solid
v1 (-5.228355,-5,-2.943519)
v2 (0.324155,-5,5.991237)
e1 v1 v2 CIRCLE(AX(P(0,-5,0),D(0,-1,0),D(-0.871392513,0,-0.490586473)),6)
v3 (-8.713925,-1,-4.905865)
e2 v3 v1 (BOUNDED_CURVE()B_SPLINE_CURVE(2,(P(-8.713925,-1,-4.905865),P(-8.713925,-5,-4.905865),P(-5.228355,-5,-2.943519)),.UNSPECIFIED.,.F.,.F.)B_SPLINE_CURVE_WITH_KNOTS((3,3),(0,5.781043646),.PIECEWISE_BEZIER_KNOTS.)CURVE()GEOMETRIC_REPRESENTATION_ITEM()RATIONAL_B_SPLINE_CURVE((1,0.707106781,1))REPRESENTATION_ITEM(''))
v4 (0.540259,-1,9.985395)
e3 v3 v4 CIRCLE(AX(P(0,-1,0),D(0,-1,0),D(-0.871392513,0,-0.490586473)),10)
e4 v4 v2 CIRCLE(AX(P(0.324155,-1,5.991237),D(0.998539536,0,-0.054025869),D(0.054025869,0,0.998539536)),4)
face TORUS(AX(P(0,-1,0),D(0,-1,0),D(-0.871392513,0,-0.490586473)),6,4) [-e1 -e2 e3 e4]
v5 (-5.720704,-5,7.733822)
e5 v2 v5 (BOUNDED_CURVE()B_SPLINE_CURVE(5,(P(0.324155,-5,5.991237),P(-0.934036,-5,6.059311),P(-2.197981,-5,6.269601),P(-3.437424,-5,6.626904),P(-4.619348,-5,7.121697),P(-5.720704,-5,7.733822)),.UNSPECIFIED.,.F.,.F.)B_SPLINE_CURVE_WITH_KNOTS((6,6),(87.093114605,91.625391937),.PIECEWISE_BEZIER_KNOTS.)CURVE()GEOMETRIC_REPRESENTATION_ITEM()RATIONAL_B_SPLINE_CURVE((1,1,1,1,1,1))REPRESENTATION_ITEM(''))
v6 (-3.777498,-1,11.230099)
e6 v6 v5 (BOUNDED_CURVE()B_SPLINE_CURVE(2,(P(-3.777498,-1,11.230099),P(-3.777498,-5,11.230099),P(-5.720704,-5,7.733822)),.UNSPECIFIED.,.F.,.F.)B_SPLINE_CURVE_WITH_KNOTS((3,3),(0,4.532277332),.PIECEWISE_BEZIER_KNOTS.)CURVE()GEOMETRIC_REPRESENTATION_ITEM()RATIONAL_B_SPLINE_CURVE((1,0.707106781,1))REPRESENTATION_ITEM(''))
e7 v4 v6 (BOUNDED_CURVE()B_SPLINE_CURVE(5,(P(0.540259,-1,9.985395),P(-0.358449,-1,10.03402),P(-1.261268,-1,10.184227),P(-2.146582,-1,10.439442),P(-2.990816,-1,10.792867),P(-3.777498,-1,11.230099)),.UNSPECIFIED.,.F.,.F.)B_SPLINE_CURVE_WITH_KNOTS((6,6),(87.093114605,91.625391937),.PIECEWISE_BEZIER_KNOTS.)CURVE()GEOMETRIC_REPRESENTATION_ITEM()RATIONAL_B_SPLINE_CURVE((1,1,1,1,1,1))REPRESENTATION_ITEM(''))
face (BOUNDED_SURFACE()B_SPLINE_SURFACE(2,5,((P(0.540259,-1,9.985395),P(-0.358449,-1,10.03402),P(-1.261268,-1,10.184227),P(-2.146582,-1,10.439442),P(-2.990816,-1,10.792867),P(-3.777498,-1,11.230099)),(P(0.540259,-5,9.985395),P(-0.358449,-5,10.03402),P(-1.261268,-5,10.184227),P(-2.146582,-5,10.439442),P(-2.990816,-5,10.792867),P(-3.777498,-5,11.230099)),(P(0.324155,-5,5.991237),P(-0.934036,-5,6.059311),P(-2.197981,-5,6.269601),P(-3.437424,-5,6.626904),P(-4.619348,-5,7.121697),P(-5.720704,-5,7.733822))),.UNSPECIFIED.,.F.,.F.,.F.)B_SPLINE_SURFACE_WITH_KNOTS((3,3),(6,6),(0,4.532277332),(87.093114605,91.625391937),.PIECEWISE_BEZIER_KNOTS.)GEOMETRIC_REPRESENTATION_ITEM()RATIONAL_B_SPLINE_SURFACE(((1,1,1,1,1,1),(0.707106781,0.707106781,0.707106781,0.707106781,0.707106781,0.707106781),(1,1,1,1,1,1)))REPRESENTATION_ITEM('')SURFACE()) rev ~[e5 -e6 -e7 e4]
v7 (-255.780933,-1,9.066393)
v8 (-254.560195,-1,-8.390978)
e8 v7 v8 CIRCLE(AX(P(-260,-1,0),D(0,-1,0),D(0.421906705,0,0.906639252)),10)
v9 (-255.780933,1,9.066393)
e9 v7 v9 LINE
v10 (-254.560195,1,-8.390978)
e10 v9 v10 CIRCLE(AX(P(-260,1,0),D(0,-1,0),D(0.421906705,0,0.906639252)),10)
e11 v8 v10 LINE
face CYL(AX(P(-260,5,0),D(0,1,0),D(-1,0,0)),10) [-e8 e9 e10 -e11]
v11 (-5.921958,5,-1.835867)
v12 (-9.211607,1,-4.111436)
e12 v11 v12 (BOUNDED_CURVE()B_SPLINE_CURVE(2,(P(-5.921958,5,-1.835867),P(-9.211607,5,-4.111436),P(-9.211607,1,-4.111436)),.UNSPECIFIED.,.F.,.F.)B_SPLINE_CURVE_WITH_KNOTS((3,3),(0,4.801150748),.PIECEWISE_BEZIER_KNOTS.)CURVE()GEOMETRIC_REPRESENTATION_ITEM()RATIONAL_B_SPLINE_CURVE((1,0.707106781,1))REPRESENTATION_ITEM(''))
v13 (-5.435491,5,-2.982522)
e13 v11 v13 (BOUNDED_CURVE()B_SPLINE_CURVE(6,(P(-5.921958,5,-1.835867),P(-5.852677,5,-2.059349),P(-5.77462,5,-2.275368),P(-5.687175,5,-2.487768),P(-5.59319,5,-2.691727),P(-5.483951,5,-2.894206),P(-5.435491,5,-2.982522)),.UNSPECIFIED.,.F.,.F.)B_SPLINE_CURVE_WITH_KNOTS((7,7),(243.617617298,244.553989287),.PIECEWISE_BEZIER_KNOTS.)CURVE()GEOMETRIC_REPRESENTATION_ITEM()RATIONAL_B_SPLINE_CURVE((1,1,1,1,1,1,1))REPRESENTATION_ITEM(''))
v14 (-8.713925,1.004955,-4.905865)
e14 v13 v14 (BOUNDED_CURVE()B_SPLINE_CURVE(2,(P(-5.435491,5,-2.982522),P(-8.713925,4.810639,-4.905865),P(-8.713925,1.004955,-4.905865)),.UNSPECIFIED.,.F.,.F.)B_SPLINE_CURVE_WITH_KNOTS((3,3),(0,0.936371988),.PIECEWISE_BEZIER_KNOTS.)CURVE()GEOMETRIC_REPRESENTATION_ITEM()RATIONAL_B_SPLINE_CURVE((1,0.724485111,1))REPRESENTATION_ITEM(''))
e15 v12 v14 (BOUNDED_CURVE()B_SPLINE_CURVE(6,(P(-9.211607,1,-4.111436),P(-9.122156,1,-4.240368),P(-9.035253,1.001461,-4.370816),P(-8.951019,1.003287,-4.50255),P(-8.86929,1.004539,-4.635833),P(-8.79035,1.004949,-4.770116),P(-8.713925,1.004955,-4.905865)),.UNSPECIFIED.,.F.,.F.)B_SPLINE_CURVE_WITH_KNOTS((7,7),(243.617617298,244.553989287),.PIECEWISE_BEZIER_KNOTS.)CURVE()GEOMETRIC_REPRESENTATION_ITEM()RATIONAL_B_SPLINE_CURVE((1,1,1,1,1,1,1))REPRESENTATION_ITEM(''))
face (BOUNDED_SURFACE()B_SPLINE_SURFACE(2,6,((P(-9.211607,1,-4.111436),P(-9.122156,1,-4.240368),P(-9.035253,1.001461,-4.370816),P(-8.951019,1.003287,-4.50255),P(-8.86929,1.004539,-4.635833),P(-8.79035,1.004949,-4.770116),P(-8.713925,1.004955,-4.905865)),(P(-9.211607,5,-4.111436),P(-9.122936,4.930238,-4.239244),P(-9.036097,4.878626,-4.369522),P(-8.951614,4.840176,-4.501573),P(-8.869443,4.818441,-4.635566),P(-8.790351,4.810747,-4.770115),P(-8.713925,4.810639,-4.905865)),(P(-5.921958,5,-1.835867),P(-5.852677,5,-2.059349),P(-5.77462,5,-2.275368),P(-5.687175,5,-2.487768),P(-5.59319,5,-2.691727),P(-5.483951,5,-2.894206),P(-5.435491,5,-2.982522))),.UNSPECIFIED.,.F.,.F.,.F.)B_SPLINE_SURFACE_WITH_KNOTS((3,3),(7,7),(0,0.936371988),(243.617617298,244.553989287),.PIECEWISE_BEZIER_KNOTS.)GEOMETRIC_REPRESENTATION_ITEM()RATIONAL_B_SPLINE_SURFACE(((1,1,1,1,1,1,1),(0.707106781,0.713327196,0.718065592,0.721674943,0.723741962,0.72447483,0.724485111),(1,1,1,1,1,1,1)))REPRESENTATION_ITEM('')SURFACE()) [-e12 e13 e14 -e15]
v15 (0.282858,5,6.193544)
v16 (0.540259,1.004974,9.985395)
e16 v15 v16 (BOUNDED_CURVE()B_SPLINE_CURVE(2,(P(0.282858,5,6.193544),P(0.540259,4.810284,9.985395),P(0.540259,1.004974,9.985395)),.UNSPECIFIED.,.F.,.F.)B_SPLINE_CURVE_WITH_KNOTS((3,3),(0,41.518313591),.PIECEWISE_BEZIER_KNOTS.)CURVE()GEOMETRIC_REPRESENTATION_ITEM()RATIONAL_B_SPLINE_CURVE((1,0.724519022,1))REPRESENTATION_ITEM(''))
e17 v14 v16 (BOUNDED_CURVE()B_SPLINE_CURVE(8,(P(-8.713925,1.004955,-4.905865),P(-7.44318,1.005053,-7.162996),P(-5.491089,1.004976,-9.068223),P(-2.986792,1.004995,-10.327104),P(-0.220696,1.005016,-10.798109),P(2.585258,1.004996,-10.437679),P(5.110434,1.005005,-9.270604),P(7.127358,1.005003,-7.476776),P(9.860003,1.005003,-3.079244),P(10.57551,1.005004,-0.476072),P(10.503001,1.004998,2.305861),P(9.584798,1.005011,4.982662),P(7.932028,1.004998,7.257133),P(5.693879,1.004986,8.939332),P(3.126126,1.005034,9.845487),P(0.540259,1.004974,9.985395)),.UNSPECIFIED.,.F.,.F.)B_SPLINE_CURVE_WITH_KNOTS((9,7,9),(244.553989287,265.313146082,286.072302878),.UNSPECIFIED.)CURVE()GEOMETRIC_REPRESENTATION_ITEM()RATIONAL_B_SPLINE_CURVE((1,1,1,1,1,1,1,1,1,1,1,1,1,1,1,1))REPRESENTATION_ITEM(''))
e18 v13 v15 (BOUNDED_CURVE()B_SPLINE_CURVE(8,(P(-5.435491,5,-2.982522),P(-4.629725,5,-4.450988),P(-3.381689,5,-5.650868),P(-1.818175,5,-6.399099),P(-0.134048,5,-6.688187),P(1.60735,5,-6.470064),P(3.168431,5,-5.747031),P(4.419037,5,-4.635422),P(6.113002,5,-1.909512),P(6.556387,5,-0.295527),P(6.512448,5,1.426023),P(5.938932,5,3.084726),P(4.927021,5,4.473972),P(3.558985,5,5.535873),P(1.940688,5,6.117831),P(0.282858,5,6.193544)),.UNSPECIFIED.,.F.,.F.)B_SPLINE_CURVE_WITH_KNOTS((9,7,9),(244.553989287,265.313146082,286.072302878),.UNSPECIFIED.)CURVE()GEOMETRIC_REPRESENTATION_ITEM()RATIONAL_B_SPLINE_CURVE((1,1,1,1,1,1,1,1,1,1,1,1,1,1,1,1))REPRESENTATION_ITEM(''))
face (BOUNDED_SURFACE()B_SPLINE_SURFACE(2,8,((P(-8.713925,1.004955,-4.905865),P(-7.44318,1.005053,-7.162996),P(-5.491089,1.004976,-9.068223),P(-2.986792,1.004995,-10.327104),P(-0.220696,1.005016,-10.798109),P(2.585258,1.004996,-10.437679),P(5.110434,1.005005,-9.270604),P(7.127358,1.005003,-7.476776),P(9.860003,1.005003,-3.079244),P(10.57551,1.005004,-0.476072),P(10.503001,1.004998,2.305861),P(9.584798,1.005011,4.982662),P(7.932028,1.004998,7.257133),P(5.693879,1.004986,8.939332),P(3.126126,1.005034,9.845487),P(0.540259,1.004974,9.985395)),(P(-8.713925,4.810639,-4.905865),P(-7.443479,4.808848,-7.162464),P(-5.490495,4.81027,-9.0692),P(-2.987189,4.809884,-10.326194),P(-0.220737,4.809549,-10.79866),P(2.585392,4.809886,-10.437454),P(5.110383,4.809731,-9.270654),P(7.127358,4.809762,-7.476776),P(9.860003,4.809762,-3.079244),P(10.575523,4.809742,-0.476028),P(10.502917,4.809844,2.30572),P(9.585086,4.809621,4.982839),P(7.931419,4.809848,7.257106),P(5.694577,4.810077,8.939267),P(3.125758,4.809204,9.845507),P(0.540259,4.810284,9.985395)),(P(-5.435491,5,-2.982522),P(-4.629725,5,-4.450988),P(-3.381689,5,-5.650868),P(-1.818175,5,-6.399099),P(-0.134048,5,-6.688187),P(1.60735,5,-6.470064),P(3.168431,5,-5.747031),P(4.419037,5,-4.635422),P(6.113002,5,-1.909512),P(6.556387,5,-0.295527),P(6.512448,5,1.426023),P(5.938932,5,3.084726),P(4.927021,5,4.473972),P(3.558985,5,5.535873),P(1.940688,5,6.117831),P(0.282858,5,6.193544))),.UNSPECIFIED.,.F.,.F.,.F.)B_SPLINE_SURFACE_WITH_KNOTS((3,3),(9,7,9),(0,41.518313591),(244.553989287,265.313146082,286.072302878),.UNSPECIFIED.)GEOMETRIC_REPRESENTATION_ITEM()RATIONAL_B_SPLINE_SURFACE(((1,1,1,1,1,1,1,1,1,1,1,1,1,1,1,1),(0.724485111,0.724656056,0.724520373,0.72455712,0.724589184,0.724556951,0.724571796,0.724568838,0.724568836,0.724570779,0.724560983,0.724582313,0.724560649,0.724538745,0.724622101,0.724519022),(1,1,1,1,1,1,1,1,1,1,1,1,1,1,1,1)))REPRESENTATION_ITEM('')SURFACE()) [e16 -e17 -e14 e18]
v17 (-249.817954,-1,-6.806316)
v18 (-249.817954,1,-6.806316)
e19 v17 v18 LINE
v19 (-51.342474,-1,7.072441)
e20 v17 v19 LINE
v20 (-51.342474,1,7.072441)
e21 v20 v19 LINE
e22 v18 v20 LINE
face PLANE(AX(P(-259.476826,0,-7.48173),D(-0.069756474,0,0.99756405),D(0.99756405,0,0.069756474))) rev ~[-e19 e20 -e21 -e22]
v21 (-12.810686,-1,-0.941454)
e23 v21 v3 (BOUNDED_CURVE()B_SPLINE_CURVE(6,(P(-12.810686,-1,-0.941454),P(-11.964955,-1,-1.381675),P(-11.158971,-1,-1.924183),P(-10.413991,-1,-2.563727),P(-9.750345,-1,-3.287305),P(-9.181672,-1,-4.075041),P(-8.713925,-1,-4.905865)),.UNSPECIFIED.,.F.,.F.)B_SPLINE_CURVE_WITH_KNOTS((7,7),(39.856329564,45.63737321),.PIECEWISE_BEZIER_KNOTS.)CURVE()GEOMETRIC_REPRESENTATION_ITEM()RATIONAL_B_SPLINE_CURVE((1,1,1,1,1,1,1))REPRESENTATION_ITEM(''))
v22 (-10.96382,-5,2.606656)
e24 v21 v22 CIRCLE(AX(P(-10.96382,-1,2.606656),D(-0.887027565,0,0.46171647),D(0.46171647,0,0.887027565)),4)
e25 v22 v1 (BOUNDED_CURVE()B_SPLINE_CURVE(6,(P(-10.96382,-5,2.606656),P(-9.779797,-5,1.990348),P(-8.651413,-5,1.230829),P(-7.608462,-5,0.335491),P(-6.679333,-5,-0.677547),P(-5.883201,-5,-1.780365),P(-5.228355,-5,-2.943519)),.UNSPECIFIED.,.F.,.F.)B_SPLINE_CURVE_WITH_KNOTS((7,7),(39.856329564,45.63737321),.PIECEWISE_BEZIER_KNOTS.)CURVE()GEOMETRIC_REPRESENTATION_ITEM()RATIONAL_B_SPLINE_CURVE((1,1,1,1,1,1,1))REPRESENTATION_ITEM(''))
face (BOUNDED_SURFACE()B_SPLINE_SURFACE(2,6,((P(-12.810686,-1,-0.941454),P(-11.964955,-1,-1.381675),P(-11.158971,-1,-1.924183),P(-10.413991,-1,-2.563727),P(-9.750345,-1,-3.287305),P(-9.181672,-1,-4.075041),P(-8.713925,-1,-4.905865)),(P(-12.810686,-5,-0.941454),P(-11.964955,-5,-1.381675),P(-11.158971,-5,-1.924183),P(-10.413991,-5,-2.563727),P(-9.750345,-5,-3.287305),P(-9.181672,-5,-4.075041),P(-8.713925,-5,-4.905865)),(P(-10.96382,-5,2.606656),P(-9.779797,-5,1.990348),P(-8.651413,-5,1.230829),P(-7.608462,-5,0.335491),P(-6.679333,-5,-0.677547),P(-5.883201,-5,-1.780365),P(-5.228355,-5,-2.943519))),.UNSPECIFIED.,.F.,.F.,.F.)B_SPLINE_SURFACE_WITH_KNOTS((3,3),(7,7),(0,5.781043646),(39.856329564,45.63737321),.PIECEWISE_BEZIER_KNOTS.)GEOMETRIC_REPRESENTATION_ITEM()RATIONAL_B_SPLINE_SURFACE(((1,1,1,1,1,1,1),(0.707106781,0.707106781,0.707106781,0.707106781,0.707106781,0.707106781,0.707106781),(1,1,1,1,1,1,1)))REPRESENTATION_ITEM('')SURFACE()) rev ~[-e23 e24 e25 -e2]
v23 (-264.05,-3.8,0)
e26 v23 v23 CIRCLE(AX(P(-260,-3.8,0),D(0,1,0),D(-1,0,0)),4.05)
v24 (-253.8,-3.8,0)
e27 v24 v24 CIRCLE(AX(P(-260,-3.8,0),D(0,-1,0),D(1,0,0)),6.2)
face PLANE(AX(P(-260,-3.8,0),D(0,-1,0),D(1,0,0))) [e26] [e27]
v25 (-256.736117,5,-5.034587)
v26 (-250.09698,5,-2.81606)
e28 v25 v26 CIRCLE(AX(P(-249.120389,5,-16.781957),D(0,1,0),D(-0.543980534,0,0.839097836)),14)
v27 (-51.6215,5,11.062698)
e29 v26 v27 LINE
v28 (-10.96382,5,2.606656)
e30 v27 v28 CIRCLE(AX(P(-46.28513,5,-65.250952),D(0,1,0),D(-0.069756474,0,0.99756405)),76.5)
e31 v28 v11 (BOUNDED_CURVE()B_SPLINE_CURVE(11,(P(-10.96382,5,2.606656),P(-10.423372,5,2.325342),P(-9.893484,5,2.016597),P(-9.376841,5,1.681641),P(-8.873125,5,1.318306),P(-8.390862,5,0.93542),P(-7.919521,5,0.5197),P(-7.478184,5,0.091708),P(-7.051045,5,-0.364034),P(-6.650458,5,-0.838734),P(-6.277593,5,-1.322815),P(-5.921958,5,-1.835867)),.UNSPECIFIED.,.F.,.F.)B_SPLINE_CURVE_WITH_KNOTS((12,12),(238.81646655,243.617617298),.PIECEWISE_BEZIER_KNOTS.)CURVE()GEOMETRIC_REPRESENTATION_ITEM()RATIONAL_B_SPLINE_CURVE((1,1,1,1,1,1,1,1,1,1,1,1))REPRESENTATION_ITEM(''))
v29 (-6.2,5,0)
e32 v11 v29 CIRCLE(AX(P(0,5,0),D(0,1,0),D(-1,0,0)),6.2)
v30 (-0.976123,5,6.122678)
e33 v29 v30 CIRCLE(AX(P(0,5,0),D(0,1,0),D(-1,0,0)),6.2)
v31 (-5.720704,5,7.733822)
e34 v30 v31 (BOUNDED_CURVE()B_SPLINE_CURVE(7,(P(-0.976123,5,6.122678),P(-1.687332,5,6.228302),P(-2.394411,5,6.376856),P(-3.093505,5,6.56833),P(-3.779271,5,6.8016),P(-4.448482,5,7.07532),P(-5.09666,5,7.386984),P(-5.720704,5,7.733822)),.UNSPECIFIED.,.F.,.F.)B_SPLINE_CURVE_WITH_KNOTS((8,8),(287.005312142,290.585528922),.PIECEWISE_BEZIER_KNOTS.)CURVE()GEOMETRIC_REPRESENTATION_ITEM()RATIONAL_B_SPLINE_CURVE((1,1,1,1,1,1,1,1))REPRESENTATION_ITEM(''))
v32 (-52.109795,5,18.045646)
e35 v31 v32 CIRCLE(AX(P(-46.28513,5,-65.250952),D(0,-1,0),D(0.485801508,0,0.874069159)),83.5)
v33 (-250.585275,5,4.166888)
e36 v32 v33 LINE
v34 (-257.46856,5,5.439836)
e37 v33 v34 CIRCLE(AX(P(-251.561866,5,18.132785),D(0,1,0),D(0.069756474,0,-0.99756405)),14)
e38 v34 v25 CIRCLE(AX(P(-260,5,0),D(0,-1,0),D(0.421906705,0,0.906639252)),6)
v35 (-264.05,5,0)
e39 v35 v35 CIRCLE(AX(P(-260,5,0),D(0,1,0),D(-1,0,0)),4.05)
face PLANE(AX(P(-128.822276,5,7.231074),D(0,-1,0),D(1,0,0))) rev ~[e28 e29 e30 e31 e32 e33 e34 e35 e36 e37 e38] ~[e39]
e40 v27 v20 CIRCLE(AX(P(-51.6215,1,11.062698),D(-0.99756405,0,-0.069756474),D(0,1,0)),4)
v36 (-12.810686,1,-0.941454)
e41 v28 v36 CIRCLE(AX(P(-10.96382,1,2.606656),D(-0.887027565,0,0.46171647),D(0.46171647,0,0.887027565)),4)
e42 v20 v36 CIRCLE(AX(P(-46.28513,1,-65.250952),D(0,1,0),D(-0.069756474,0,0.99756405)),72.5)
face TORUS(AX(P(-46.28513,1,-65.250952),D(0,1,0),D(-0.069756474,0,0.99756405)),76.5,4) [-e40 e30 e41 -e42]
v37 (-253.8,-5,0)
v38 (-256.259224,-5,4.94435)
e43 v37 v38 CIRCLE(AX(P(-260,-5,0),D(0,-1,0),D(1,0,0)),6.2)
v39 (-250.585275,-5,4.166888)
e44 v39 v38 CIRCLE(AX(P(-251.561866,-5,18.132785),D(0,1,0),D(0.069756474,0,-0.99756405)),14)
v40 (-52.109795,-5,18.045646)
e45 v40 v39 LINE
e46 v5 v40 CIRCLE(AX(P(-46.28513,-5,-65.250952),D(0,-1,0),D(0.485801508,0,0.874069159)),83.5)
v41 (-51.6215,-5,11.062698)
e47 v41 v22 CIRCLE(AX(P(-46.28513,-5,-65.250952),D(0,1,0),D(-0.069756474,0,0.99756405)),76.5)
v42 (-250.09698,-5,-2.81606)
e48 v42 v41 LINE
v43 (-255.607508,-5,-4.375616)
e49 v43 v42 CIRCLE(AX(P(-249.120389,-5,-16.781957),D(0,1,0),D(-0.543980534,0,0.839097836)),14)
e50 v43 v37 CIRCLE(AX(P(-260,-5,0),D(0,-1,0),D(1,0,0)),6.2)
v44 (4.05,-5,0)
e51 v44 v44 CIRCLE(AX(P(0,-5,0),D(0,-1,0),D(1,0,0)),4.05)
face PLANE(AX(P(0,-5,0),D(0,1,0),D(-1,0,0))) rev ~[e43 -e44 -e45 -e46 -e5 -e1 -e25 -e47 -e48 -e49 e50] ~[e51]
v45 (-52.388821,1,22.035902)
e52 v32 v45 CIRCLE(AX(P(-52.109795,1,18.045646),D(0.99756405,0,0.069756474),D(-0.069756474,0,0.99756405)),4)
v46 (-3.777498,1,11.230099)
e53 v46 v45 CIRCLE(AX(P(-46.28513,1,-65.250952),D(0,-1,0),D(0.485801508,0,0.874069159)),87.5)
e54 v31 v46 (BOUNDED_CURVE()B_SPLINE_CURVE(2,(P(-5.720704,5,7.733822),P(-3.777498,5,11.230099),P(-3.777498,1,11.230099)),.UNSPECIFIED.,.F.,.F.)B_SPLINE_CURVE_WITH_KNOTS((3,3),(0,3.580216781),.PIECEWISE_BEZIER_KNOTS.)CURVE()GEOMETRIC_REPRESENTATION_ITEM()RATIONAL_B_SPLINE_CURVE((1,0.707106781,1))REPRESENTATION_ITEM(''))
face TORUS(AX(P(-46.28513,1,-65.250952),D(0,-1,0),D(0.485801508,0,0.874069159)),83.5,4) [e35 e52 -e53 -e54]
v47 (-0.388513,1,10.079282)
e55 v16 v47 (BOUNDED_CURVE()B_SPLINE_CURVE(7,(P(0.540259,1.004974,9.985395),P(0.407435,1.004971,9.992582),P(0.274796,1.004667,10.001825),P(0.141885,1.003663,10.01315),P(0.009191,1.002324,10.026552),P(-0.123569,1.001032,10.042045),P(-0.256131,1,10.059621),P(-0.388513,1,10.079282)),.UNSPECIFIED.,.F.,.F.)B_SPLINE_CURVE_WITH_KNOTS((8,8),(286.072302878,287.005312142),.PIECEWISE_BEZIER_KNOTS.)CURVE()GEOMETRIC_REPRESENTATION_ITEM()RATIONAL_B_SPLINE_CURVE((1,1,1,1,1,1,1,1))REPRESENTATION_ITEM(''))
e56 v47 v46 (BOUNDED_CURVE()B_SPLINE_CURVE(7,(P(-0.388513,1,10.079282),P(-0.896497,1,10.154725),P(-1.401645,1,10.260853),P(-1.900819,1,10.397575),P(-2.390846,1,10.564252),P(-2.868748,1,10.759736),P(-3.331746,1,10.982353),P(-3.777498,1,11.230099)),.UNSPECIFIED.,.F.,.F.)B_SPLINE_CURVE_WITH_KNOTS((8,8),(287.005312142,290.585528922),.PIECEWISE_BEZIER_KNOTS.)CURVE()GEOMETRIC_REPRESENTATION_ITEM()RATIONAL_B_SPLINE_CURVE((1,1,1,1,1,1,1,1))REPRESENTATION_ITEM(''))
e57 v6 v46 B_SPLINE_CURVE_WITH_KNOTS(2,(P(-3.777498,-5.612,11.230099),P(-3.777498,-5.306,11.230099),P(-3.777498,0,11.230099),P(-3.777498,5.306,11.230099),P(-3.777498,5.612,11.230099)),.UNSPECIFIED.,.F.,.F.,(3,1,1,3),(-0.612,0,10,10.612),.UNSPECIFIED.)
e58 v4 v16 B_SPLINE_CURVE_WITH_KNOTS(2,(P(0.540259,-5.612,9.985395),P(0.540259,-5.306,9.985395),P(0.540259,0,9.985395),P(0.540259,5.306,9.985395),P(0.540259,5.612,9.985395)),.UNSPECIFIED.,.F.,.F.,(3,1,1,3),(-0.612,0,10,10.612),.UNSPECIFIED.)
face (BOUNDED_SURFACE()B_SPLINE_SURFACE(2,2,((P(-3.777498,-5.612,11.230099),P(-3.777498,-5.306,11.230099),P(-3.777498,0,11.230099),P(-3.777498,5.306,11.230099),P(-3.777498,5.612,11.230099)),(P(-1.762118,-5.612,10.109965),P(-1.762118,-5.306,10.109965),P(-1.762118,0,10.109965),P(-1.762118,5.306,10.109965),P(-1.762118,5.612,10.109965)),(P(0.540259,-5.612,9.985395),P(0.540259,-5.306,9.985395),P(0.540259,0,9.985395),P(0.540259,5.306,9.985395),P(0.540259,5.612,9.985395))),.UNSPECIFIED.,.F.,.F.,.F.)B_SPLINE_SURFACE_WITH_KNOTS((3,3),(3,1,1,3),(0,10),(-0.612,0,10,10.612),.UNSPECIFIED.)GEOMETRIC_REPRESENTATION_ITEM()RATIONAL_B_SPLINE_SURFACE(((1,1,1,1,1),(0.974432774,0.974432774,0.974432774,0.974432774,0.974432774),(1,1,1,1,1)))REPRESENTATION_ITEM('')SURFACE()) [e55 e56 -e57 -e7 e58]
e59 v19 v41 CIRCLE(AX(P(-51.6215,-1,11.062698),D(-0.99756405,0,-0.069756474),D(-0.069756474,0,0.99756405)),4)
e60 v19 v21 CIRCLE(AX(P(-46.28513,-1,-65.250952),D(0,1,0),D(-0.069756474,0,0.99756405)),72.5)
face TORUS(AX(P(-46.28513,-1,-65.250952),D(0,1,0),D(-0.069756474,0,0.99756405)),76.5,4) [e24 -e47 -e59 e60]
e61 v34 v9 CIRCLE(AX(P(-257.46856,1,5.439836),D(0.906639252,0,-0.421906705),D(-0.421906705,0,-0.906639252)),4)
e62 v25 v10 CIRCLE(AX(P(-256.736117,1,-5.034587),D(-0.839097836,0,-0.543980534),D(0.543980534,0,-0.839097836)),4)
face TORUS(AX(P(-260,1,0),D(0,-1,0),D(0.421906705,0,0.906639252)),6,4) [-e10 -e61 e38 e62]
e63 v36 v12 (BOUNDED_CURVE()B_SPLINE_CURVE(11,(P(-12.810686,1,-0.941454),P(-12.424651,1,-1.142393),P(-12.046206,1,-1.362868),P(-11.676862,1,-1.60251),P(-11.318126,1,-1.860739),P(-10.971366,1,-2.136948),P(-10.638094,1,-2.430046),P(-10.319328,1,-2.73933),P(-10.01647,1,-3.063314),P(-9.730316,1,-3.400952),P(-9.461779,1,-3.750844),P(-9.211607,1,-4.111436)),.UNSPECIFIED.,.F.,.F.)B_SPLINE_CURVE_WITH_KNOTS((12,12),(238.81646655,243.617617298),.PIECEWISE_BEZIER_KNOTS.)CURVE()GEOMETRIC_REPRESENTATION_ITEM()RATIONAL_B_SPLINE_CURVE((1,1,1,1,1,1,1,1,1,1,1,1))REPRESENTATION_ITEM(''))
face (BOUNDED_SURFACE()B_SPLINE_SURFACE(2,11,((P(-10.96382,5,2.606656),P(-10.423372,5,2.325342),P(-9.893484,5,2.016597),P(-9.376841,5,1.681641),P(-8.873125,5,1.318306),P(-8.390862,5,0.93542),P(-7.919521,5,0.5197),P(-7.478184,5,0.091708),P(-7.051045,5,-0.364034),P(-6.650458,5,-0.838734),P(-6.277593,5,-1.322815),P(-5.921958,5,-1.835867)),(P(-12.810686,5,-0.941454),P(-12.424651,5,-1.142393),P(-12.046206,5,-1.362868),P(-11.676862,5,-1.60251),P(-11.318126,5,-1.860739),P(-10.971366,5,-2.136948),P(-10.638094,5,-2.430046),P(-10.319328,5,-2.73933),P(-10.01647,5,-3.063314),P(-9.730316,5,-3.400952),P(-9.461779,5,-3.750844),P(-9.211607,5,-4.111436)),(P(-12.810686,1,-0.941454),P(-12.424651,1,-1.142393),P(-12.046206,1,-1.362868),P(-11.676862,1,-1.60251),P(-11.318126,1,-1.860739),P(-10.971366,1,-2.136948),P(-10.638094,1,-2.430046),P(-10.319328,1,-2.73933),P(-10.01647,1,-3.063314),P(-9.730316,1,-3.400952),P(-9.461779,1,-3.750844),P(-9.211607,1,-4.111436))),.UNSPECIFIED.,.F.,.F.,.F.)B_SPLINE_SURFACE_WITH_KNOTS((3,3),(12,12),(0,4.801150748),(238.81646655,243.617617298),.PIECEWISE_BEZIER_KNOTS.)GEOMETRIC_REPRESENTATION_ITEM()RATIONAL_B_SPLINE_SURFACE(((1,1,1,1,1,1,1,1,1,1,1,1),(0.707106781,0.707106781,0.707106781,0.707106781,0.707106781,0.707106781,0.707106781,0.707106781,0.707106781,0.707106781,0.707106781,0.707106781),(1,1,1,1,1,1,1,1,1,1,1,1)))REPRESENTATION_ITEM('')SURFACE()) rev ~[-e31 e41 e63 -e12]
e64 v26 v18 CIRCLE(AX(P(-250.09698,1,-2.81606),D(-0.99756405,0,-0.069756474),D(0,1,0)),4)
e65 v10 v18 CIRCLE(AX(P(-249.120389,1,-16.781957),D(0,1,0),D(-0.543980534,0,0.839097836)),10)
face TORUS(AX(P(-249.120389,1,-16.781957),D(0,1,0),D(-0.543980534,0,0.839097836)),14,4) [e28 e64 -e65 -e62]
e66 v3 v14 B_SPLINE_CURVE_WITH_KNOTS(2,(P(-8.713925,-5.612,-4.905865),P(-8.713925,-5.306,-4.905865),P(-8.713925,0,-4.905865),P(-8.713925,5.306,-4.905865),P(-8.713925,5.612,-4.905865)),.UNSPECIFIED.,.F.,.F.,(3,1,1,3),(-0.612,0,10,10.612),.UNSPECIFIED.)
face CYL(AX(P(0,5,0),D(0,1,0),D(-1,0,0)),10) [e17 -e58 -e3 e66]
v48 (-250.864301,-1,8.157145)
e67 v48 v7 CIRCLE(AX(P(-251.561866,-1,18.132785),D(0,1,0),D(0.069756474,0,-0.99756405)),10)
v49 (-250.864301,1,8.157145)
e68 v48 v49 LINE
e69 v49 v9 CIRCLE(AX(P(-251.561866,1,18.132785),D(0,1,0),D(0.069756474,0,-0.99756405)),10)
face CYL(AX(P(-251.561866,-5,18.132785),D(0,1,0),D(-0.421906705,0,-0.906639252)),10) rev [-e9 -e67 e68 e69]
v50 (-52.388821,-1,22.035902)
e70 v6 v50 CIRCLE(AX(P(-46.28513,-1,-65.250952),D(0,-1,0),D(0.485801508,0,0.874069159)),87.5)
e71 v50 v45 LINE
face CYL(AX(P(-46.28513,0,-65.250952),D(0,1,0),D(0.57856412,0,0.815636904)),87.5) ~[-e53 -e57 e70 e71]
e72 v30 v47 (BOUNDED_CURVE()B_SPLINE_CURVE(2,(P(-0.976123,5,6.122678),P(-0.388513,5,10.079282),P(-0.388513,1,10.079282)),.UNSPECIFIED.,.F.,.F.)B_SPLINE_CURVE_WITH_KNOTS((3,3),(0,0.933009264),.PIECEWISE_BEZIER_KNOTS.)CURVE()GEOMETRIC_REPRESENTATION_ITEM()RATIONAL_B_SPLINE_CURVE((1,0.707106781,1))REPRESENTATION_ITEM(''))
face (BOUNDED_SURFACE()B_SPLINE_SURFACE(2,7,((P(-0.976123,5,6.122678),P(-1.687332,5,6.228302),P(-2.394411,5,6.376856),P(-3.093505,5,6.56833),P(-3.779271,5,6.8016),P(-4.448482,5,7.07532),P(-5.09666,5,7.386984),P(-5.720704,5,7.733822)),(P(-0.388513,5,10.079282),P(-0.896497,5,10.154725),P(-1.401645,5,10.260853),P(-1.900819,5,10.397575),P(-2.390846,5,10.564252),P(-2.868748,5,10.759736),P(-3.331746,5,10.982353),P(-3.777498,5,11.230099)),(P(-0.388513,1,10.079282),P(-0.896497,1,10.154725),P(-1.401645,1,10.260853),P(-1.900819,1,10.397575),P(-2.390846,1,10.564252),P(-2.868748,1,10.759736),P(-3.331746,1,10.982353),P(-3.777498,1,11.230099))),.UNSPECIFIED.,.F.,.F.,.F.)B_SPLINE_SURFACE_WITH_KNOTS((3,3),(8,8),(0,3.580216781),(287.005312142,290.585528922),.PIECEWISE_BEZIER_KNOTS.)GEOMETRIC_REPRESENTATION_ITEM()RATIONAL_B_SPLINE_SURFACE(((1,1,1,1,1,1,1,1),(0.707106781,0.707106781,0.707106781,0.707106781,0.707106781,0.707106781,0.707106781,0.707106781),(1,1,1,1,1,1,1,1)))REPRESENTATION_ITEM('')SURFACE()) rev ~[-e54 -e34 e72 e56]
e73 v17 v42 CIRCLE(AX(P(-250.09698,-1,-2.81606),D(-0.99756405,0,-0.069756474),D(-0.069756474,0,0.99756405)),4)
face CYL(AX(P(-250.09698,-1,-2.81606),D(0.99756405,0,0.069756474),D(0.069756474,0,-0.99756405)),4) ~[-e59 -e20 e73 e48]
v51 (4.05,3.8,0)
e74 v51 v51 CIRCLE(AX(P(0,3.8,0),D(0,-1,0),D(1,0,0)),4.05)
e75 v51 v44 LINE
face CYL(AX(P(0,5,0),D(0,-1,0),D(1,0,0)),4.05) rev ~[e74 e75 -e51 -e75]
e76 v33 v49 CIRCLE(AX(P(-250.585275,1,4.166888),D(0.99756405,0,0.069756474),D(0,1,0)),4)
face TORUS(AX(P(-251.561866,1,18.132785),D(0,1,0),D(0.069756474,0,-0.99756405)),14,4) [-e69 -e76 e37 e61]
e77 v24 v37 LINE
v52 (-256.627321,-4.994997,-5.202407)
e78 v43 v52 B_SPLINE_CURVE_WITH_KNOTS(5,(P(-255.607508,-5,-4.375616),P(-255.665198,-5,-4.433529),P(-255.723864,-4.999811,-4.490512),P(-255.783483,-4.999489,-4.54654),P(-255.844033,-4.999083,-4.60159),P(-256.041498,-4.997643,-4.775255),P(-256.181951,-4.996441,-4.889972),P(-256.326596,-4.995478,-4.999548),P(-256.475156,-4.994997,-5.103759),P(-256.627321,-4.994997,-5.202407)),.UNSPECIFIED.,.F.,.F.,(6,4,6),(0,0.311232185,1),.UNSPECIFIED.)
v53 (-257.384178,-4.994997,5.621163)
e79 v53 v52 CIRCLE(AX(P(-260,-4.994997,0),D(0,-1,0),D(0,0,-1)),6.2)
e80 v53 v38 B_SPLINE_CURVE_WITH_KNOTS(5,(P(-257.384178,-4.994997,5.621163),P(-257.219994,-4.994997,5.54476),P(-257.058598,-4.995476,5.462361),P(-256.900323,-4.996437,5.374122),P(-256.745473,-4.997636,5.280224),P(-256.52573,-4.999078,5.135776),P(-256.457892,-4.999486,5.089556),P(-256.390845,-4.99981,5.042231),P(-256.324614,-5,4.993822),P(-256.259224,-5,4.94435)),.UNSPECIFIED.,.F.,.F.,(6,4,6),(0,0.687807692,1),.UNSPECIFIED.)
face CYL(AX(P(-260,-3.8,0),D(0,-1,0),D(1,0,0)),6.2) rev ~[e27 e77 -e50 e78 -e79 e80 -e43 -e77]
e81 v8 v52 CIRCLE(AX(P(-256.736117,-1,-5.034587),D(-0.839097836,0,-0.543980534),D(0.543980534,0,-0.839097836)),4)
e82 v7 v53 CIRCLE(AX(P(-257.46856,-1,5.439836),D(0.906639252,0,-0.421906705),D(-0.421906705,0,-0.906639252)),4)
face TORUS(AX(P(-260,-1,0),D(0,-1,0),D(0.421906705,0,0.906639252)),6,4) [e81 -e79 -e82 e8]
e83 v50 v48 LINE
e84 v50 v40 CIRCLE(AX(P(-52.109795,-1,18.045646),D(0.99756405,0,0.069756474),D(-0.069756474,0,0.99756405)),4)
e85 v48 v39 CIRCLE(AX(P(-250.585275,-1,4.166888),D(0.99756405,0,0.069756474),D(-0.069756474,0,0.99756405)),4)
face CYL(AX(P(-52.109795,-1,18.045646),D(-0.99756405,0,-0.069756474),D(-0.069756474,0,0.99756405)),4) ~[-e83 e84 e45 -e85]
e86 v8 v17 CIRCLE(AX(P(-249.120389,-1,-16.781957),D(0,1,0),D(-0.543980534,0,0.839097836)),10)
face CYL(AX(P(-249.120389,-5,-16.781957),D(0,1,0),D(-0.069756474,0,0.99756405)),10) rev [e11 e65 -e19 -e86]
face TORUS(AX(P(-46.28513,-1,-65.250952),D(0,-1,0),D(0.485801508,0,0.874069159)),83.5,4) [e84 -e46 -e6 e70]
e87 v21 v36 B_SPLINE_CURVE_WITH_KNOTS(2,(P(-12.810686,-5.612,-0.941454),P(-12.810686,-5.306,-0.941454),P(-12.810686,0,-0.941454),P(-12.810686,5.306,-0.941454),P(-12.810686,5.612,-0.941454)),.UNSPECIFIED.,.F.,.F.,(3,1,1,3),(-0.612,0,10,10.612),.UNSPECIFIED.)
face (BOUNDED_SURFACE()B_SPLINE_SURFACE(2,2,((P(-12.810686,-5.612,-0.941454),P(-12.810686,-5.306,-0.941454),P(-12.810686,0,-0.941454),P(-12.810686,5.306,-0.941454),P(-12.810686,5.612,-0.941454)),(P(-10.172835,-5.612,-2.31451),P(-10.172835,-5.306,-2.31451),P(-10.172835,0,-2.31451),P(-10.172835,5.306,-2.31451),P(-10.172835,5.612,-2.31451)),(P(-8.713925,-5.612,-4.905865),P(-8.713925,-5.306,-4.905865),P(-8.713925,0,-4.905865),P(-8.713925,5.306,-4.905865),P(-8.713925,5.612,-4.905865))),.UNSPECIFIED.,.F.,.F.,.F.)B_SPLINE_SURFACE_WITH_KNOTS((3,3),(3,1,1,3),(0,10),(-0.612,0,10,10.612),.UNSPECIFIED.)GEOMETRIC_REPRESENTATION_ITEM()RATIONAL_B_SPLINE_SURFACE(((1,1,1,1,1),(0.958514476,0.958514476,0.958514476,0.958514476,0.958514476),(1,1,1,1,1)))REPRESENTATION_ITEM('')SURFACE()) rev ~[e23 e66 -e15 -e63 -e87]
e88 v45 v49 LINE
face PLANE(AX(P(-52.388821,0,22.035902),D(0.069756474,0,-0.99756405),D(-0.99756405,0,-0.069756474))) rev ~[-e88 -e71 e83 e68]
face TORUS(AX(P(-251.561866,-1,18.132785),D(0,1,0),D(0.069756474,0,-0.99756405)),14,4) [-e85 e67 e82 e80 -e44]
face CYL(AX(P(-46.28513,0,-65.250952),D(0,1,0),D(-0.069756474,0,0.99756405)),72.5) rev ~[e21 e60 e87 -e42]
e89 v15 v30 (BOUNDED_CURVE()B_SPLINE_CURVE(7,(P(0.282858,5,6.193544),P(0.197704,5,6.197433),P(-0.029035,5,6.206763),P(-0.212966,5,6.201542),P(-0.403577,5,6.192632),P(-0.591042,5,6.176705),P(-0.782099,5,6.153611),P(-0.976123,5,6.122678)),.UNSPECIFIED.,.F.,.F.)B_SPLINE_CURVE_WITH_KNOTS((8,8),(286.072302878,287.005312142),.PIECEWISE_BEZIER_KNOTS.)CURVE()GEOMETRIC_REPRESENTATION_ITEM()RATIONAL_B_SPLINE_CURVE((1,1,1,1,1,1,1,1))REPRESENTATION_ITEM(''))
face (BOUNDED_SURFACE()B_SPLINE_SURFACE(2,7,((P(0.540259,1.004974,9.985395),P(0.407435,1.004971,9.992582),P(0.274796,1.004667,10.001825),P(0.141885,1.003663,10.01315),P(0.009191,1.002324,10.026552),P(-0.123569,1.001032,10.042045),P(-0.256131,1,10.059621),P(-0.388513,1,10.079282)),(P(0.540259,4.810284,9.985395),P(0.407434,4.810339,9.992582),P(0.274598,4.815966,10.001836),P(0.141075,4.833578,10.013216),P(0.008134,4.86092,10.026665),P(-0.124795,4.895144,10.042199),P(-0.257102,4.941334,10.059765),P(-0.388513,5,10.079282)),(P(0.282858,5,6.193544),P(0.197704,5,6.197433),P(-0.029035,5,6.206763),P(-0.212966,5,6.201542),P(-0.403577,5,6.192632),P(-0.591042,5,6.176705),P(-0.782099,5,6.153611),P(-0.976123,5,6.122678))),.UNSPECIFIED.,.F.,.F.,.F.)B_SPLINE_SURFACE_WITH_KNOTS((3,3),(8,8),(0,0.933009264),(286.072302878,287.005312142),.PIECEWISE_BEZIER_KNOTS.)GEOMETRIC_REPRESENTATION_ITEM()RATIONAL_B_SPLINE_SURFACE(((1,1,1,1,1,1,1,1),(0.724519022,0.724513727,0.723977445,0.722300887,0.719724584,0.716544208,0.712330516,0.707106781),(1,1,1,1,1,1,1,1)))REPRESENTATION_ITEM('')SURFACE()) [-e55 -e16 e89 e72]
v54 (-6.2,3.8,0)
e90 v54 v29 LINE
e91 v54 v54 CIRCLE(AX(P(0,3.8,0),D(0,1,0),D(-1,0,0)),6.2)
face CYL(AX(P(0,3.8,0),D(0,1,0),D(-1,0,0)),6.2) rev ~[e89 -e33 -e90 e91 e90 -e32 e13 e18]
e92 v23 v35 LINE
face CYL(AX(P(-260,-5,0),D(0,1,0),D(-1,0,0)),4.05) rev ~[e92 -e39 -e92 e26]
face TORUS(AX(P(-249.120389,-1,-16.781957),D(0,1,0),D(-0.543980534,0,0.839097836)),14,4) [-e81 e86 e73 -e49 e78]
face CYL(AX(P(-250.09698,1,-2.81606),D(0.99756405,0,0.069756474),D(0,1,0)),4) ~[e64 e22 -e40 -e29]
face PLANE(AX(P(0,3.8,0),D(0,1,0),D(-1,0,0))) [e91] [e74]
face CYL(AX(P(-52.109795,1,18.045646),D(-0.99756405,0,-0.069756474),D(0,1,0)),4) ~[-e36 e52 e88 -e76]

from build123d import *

# Parameters (mm, degrees)
CROQUIS1_R                                           = 4.05
SALIENTE_EXTRUIR1_DEPTH                              = 5
CROQUIS2_R                                           = 10
SALIENTE_EXTRUIR2_DEPTH                              = 10
REDONDEO8_R                                          = 10
REFRENTADO_PARA_TORNILLO_CON_CABEZA_PLAN_D           = 8.1
REFRENTADO_PARA_TORNILLO_CON_CABEZA_PLAN_CBORE_D     = 12.4
REFRENTADO_PARA_TORNILLO_CON_CABEZA_PLAN_CBORE_DEPTH = 1.2
REDONDEO9_R                                          = 4
REFRENTADO_PARA_TORNILLO_CON_CABEZA_2_D              = 8.1
REFRENTADO_PARA_TORNILLO_CON_CABEZA_2_CBORE_D        = 12.4
REFRENTADO_PARA_TORNILLO_CON_CABEZA_2_CBORE_DEPTH    = 1.2


with BuildPart() as part:
    # Croquis1 → Saliente-Extruir1 (new, symmetric)
    with BuildSketch(Plane(origin=(0, 0, 0), x_dir=(-1, 0, 0), z_dir=(0, 1, 0))):
        with BuildLine():
            Line((52.388821078, 22.035902101), (260.523173553, 7.481730377))
            ThreePointArc((260.523173553, 7.481730377), (267.481730377, -0.523173553), (259.476826447, -7.481730377))
            Line((259.476826447, -7.481730377), (51.342473972, 7.072441348))
            ThreePointArc((51.342473972, 7.072441348), (26.697288319, 4.552818898), (4.339230902, -6.117276778))
            ThreePointArc((4.339230902, -6.117276778), (-6.117276778, -4.339230902), (-4.339230902, 6.117276778))
            ThreePointArc((-4.339230902, 6.117276778), (22.644631497, 18.994978455), (52.388821078, 22.035902101))
        make_face()
        with Locations(Location((0, 0, 0), (0, 0, 90))):
            Circle(CROQUIS1_R, mode=Mode.SUBTRACT)
        with Locations(Location((260, 0, 0), (0, 0, 90))):
            Circle(CROQUIS1_R, mode=Mode.SUBTRACT)
    extrude(amount=SALIENTE_EXTRUIR1_DEPTH, both=True)

    # Croquis2 → Saliente-Extruir2 (add)
    with BuildSketch(Plane(origin=(0, 5, 0), x_dir=(-1, 0, 0), z_dir=(0, 1, 0))):
        Circle(CROQUIS2_R)
        with Locations((260, 0)):
            Circle(CROQUIS2_R)
    extrude(amount=-SALIENTE_EXTRUIR2_DEPTH)

    # Redondeo8
    redondeo8_edges = [part.edges().sort_by_distance(p)[0] for p in [
        (-1.45671448, 0, 9.893330224),
        (-253.924907568, 0, 7.943126082),
        (-9.62840856, 0, -2.700694098),
        (-252.878560462, 0, -7.020334672),
    ]]
    fillet(redondeo8_edges, radius=REDONDEO8_R)

    # Refrentado para tornillo con cabeza plan (through all)
    with Locations(Plane(origin=(0, 5, 0), x_dir=(-1, 0, 0), z_dir=(0, 1, 0))):
        with Locations((0, 0)):
            CounterBoreHole(REFRENTADO_PARA_TORNILLO_CON_CABEZA_PLAN_D / 2, REFRENTADO_PARA_TORNILLO_CON_CABEZA_PLAN_CBORE_D / 2, REFRENTADO_PARA_TORNILLO_CON_CABEZA_PLAN_CBORE_DEPTH)

    # Redondeo9
    redondeo9_edges = [part.edges().sort_by_distance(p)[0] for p in [
        (-150.580214018, 5, 0.133062562),
        (-27.298211365, 5, 20.16419235),
        (-31.522388758, 5, 5.730111954),
        (-31.522388758, -5, 5.730111954),
        (8.493504141, 5, -5.278293987),
        (8.493504141, -5, -5.278293987),
        (-269.975640503, -5, -0.697564737),
        (-269.975640503, 5, -0.697564737),
        (-151.626561124, 5, 15.096523316),
        (-151.626561124, -5, 15.096523316),
        (-27.298211365, -5, 20.16419235),
        (-10.473813488, -5, -2.625536281),
        (-10.473813488, 5, -2.625536281),
        (-252.289713604, 5, -7.297475528),
        (-252.289713604, -5, -7.297475528),
        (-253.38036188, -5, 8.299521464),
        (-253.38036188, 5, 8.299521464),
        (-1.68943962, 5, 10.362079146),
        (-1.68943962, -5, 10.362079146),
        (-150.580214018, -5, 0.133062562),
    ]]
    fillet(redondeo9_edges, radius=REDONDEO9_R)

    # Refrentado para tornillo con cabeza  2 (through all)
    with Locations(Plane.XZ.offset(5)):
        with Locations((-260, 0)):
            CounterBoreHole(REFRENTADO_PARA_TORNILLO_CON_CABEZA_2_D / 2, REFRENTADO_PARA_TORNILLO_CON_CABEZA_2_CBORE_D / 2, REFRENTADO_PARA_TORNILLO_CON_CABEZA_2_CBORE_DEPTH)


solid = part.part
